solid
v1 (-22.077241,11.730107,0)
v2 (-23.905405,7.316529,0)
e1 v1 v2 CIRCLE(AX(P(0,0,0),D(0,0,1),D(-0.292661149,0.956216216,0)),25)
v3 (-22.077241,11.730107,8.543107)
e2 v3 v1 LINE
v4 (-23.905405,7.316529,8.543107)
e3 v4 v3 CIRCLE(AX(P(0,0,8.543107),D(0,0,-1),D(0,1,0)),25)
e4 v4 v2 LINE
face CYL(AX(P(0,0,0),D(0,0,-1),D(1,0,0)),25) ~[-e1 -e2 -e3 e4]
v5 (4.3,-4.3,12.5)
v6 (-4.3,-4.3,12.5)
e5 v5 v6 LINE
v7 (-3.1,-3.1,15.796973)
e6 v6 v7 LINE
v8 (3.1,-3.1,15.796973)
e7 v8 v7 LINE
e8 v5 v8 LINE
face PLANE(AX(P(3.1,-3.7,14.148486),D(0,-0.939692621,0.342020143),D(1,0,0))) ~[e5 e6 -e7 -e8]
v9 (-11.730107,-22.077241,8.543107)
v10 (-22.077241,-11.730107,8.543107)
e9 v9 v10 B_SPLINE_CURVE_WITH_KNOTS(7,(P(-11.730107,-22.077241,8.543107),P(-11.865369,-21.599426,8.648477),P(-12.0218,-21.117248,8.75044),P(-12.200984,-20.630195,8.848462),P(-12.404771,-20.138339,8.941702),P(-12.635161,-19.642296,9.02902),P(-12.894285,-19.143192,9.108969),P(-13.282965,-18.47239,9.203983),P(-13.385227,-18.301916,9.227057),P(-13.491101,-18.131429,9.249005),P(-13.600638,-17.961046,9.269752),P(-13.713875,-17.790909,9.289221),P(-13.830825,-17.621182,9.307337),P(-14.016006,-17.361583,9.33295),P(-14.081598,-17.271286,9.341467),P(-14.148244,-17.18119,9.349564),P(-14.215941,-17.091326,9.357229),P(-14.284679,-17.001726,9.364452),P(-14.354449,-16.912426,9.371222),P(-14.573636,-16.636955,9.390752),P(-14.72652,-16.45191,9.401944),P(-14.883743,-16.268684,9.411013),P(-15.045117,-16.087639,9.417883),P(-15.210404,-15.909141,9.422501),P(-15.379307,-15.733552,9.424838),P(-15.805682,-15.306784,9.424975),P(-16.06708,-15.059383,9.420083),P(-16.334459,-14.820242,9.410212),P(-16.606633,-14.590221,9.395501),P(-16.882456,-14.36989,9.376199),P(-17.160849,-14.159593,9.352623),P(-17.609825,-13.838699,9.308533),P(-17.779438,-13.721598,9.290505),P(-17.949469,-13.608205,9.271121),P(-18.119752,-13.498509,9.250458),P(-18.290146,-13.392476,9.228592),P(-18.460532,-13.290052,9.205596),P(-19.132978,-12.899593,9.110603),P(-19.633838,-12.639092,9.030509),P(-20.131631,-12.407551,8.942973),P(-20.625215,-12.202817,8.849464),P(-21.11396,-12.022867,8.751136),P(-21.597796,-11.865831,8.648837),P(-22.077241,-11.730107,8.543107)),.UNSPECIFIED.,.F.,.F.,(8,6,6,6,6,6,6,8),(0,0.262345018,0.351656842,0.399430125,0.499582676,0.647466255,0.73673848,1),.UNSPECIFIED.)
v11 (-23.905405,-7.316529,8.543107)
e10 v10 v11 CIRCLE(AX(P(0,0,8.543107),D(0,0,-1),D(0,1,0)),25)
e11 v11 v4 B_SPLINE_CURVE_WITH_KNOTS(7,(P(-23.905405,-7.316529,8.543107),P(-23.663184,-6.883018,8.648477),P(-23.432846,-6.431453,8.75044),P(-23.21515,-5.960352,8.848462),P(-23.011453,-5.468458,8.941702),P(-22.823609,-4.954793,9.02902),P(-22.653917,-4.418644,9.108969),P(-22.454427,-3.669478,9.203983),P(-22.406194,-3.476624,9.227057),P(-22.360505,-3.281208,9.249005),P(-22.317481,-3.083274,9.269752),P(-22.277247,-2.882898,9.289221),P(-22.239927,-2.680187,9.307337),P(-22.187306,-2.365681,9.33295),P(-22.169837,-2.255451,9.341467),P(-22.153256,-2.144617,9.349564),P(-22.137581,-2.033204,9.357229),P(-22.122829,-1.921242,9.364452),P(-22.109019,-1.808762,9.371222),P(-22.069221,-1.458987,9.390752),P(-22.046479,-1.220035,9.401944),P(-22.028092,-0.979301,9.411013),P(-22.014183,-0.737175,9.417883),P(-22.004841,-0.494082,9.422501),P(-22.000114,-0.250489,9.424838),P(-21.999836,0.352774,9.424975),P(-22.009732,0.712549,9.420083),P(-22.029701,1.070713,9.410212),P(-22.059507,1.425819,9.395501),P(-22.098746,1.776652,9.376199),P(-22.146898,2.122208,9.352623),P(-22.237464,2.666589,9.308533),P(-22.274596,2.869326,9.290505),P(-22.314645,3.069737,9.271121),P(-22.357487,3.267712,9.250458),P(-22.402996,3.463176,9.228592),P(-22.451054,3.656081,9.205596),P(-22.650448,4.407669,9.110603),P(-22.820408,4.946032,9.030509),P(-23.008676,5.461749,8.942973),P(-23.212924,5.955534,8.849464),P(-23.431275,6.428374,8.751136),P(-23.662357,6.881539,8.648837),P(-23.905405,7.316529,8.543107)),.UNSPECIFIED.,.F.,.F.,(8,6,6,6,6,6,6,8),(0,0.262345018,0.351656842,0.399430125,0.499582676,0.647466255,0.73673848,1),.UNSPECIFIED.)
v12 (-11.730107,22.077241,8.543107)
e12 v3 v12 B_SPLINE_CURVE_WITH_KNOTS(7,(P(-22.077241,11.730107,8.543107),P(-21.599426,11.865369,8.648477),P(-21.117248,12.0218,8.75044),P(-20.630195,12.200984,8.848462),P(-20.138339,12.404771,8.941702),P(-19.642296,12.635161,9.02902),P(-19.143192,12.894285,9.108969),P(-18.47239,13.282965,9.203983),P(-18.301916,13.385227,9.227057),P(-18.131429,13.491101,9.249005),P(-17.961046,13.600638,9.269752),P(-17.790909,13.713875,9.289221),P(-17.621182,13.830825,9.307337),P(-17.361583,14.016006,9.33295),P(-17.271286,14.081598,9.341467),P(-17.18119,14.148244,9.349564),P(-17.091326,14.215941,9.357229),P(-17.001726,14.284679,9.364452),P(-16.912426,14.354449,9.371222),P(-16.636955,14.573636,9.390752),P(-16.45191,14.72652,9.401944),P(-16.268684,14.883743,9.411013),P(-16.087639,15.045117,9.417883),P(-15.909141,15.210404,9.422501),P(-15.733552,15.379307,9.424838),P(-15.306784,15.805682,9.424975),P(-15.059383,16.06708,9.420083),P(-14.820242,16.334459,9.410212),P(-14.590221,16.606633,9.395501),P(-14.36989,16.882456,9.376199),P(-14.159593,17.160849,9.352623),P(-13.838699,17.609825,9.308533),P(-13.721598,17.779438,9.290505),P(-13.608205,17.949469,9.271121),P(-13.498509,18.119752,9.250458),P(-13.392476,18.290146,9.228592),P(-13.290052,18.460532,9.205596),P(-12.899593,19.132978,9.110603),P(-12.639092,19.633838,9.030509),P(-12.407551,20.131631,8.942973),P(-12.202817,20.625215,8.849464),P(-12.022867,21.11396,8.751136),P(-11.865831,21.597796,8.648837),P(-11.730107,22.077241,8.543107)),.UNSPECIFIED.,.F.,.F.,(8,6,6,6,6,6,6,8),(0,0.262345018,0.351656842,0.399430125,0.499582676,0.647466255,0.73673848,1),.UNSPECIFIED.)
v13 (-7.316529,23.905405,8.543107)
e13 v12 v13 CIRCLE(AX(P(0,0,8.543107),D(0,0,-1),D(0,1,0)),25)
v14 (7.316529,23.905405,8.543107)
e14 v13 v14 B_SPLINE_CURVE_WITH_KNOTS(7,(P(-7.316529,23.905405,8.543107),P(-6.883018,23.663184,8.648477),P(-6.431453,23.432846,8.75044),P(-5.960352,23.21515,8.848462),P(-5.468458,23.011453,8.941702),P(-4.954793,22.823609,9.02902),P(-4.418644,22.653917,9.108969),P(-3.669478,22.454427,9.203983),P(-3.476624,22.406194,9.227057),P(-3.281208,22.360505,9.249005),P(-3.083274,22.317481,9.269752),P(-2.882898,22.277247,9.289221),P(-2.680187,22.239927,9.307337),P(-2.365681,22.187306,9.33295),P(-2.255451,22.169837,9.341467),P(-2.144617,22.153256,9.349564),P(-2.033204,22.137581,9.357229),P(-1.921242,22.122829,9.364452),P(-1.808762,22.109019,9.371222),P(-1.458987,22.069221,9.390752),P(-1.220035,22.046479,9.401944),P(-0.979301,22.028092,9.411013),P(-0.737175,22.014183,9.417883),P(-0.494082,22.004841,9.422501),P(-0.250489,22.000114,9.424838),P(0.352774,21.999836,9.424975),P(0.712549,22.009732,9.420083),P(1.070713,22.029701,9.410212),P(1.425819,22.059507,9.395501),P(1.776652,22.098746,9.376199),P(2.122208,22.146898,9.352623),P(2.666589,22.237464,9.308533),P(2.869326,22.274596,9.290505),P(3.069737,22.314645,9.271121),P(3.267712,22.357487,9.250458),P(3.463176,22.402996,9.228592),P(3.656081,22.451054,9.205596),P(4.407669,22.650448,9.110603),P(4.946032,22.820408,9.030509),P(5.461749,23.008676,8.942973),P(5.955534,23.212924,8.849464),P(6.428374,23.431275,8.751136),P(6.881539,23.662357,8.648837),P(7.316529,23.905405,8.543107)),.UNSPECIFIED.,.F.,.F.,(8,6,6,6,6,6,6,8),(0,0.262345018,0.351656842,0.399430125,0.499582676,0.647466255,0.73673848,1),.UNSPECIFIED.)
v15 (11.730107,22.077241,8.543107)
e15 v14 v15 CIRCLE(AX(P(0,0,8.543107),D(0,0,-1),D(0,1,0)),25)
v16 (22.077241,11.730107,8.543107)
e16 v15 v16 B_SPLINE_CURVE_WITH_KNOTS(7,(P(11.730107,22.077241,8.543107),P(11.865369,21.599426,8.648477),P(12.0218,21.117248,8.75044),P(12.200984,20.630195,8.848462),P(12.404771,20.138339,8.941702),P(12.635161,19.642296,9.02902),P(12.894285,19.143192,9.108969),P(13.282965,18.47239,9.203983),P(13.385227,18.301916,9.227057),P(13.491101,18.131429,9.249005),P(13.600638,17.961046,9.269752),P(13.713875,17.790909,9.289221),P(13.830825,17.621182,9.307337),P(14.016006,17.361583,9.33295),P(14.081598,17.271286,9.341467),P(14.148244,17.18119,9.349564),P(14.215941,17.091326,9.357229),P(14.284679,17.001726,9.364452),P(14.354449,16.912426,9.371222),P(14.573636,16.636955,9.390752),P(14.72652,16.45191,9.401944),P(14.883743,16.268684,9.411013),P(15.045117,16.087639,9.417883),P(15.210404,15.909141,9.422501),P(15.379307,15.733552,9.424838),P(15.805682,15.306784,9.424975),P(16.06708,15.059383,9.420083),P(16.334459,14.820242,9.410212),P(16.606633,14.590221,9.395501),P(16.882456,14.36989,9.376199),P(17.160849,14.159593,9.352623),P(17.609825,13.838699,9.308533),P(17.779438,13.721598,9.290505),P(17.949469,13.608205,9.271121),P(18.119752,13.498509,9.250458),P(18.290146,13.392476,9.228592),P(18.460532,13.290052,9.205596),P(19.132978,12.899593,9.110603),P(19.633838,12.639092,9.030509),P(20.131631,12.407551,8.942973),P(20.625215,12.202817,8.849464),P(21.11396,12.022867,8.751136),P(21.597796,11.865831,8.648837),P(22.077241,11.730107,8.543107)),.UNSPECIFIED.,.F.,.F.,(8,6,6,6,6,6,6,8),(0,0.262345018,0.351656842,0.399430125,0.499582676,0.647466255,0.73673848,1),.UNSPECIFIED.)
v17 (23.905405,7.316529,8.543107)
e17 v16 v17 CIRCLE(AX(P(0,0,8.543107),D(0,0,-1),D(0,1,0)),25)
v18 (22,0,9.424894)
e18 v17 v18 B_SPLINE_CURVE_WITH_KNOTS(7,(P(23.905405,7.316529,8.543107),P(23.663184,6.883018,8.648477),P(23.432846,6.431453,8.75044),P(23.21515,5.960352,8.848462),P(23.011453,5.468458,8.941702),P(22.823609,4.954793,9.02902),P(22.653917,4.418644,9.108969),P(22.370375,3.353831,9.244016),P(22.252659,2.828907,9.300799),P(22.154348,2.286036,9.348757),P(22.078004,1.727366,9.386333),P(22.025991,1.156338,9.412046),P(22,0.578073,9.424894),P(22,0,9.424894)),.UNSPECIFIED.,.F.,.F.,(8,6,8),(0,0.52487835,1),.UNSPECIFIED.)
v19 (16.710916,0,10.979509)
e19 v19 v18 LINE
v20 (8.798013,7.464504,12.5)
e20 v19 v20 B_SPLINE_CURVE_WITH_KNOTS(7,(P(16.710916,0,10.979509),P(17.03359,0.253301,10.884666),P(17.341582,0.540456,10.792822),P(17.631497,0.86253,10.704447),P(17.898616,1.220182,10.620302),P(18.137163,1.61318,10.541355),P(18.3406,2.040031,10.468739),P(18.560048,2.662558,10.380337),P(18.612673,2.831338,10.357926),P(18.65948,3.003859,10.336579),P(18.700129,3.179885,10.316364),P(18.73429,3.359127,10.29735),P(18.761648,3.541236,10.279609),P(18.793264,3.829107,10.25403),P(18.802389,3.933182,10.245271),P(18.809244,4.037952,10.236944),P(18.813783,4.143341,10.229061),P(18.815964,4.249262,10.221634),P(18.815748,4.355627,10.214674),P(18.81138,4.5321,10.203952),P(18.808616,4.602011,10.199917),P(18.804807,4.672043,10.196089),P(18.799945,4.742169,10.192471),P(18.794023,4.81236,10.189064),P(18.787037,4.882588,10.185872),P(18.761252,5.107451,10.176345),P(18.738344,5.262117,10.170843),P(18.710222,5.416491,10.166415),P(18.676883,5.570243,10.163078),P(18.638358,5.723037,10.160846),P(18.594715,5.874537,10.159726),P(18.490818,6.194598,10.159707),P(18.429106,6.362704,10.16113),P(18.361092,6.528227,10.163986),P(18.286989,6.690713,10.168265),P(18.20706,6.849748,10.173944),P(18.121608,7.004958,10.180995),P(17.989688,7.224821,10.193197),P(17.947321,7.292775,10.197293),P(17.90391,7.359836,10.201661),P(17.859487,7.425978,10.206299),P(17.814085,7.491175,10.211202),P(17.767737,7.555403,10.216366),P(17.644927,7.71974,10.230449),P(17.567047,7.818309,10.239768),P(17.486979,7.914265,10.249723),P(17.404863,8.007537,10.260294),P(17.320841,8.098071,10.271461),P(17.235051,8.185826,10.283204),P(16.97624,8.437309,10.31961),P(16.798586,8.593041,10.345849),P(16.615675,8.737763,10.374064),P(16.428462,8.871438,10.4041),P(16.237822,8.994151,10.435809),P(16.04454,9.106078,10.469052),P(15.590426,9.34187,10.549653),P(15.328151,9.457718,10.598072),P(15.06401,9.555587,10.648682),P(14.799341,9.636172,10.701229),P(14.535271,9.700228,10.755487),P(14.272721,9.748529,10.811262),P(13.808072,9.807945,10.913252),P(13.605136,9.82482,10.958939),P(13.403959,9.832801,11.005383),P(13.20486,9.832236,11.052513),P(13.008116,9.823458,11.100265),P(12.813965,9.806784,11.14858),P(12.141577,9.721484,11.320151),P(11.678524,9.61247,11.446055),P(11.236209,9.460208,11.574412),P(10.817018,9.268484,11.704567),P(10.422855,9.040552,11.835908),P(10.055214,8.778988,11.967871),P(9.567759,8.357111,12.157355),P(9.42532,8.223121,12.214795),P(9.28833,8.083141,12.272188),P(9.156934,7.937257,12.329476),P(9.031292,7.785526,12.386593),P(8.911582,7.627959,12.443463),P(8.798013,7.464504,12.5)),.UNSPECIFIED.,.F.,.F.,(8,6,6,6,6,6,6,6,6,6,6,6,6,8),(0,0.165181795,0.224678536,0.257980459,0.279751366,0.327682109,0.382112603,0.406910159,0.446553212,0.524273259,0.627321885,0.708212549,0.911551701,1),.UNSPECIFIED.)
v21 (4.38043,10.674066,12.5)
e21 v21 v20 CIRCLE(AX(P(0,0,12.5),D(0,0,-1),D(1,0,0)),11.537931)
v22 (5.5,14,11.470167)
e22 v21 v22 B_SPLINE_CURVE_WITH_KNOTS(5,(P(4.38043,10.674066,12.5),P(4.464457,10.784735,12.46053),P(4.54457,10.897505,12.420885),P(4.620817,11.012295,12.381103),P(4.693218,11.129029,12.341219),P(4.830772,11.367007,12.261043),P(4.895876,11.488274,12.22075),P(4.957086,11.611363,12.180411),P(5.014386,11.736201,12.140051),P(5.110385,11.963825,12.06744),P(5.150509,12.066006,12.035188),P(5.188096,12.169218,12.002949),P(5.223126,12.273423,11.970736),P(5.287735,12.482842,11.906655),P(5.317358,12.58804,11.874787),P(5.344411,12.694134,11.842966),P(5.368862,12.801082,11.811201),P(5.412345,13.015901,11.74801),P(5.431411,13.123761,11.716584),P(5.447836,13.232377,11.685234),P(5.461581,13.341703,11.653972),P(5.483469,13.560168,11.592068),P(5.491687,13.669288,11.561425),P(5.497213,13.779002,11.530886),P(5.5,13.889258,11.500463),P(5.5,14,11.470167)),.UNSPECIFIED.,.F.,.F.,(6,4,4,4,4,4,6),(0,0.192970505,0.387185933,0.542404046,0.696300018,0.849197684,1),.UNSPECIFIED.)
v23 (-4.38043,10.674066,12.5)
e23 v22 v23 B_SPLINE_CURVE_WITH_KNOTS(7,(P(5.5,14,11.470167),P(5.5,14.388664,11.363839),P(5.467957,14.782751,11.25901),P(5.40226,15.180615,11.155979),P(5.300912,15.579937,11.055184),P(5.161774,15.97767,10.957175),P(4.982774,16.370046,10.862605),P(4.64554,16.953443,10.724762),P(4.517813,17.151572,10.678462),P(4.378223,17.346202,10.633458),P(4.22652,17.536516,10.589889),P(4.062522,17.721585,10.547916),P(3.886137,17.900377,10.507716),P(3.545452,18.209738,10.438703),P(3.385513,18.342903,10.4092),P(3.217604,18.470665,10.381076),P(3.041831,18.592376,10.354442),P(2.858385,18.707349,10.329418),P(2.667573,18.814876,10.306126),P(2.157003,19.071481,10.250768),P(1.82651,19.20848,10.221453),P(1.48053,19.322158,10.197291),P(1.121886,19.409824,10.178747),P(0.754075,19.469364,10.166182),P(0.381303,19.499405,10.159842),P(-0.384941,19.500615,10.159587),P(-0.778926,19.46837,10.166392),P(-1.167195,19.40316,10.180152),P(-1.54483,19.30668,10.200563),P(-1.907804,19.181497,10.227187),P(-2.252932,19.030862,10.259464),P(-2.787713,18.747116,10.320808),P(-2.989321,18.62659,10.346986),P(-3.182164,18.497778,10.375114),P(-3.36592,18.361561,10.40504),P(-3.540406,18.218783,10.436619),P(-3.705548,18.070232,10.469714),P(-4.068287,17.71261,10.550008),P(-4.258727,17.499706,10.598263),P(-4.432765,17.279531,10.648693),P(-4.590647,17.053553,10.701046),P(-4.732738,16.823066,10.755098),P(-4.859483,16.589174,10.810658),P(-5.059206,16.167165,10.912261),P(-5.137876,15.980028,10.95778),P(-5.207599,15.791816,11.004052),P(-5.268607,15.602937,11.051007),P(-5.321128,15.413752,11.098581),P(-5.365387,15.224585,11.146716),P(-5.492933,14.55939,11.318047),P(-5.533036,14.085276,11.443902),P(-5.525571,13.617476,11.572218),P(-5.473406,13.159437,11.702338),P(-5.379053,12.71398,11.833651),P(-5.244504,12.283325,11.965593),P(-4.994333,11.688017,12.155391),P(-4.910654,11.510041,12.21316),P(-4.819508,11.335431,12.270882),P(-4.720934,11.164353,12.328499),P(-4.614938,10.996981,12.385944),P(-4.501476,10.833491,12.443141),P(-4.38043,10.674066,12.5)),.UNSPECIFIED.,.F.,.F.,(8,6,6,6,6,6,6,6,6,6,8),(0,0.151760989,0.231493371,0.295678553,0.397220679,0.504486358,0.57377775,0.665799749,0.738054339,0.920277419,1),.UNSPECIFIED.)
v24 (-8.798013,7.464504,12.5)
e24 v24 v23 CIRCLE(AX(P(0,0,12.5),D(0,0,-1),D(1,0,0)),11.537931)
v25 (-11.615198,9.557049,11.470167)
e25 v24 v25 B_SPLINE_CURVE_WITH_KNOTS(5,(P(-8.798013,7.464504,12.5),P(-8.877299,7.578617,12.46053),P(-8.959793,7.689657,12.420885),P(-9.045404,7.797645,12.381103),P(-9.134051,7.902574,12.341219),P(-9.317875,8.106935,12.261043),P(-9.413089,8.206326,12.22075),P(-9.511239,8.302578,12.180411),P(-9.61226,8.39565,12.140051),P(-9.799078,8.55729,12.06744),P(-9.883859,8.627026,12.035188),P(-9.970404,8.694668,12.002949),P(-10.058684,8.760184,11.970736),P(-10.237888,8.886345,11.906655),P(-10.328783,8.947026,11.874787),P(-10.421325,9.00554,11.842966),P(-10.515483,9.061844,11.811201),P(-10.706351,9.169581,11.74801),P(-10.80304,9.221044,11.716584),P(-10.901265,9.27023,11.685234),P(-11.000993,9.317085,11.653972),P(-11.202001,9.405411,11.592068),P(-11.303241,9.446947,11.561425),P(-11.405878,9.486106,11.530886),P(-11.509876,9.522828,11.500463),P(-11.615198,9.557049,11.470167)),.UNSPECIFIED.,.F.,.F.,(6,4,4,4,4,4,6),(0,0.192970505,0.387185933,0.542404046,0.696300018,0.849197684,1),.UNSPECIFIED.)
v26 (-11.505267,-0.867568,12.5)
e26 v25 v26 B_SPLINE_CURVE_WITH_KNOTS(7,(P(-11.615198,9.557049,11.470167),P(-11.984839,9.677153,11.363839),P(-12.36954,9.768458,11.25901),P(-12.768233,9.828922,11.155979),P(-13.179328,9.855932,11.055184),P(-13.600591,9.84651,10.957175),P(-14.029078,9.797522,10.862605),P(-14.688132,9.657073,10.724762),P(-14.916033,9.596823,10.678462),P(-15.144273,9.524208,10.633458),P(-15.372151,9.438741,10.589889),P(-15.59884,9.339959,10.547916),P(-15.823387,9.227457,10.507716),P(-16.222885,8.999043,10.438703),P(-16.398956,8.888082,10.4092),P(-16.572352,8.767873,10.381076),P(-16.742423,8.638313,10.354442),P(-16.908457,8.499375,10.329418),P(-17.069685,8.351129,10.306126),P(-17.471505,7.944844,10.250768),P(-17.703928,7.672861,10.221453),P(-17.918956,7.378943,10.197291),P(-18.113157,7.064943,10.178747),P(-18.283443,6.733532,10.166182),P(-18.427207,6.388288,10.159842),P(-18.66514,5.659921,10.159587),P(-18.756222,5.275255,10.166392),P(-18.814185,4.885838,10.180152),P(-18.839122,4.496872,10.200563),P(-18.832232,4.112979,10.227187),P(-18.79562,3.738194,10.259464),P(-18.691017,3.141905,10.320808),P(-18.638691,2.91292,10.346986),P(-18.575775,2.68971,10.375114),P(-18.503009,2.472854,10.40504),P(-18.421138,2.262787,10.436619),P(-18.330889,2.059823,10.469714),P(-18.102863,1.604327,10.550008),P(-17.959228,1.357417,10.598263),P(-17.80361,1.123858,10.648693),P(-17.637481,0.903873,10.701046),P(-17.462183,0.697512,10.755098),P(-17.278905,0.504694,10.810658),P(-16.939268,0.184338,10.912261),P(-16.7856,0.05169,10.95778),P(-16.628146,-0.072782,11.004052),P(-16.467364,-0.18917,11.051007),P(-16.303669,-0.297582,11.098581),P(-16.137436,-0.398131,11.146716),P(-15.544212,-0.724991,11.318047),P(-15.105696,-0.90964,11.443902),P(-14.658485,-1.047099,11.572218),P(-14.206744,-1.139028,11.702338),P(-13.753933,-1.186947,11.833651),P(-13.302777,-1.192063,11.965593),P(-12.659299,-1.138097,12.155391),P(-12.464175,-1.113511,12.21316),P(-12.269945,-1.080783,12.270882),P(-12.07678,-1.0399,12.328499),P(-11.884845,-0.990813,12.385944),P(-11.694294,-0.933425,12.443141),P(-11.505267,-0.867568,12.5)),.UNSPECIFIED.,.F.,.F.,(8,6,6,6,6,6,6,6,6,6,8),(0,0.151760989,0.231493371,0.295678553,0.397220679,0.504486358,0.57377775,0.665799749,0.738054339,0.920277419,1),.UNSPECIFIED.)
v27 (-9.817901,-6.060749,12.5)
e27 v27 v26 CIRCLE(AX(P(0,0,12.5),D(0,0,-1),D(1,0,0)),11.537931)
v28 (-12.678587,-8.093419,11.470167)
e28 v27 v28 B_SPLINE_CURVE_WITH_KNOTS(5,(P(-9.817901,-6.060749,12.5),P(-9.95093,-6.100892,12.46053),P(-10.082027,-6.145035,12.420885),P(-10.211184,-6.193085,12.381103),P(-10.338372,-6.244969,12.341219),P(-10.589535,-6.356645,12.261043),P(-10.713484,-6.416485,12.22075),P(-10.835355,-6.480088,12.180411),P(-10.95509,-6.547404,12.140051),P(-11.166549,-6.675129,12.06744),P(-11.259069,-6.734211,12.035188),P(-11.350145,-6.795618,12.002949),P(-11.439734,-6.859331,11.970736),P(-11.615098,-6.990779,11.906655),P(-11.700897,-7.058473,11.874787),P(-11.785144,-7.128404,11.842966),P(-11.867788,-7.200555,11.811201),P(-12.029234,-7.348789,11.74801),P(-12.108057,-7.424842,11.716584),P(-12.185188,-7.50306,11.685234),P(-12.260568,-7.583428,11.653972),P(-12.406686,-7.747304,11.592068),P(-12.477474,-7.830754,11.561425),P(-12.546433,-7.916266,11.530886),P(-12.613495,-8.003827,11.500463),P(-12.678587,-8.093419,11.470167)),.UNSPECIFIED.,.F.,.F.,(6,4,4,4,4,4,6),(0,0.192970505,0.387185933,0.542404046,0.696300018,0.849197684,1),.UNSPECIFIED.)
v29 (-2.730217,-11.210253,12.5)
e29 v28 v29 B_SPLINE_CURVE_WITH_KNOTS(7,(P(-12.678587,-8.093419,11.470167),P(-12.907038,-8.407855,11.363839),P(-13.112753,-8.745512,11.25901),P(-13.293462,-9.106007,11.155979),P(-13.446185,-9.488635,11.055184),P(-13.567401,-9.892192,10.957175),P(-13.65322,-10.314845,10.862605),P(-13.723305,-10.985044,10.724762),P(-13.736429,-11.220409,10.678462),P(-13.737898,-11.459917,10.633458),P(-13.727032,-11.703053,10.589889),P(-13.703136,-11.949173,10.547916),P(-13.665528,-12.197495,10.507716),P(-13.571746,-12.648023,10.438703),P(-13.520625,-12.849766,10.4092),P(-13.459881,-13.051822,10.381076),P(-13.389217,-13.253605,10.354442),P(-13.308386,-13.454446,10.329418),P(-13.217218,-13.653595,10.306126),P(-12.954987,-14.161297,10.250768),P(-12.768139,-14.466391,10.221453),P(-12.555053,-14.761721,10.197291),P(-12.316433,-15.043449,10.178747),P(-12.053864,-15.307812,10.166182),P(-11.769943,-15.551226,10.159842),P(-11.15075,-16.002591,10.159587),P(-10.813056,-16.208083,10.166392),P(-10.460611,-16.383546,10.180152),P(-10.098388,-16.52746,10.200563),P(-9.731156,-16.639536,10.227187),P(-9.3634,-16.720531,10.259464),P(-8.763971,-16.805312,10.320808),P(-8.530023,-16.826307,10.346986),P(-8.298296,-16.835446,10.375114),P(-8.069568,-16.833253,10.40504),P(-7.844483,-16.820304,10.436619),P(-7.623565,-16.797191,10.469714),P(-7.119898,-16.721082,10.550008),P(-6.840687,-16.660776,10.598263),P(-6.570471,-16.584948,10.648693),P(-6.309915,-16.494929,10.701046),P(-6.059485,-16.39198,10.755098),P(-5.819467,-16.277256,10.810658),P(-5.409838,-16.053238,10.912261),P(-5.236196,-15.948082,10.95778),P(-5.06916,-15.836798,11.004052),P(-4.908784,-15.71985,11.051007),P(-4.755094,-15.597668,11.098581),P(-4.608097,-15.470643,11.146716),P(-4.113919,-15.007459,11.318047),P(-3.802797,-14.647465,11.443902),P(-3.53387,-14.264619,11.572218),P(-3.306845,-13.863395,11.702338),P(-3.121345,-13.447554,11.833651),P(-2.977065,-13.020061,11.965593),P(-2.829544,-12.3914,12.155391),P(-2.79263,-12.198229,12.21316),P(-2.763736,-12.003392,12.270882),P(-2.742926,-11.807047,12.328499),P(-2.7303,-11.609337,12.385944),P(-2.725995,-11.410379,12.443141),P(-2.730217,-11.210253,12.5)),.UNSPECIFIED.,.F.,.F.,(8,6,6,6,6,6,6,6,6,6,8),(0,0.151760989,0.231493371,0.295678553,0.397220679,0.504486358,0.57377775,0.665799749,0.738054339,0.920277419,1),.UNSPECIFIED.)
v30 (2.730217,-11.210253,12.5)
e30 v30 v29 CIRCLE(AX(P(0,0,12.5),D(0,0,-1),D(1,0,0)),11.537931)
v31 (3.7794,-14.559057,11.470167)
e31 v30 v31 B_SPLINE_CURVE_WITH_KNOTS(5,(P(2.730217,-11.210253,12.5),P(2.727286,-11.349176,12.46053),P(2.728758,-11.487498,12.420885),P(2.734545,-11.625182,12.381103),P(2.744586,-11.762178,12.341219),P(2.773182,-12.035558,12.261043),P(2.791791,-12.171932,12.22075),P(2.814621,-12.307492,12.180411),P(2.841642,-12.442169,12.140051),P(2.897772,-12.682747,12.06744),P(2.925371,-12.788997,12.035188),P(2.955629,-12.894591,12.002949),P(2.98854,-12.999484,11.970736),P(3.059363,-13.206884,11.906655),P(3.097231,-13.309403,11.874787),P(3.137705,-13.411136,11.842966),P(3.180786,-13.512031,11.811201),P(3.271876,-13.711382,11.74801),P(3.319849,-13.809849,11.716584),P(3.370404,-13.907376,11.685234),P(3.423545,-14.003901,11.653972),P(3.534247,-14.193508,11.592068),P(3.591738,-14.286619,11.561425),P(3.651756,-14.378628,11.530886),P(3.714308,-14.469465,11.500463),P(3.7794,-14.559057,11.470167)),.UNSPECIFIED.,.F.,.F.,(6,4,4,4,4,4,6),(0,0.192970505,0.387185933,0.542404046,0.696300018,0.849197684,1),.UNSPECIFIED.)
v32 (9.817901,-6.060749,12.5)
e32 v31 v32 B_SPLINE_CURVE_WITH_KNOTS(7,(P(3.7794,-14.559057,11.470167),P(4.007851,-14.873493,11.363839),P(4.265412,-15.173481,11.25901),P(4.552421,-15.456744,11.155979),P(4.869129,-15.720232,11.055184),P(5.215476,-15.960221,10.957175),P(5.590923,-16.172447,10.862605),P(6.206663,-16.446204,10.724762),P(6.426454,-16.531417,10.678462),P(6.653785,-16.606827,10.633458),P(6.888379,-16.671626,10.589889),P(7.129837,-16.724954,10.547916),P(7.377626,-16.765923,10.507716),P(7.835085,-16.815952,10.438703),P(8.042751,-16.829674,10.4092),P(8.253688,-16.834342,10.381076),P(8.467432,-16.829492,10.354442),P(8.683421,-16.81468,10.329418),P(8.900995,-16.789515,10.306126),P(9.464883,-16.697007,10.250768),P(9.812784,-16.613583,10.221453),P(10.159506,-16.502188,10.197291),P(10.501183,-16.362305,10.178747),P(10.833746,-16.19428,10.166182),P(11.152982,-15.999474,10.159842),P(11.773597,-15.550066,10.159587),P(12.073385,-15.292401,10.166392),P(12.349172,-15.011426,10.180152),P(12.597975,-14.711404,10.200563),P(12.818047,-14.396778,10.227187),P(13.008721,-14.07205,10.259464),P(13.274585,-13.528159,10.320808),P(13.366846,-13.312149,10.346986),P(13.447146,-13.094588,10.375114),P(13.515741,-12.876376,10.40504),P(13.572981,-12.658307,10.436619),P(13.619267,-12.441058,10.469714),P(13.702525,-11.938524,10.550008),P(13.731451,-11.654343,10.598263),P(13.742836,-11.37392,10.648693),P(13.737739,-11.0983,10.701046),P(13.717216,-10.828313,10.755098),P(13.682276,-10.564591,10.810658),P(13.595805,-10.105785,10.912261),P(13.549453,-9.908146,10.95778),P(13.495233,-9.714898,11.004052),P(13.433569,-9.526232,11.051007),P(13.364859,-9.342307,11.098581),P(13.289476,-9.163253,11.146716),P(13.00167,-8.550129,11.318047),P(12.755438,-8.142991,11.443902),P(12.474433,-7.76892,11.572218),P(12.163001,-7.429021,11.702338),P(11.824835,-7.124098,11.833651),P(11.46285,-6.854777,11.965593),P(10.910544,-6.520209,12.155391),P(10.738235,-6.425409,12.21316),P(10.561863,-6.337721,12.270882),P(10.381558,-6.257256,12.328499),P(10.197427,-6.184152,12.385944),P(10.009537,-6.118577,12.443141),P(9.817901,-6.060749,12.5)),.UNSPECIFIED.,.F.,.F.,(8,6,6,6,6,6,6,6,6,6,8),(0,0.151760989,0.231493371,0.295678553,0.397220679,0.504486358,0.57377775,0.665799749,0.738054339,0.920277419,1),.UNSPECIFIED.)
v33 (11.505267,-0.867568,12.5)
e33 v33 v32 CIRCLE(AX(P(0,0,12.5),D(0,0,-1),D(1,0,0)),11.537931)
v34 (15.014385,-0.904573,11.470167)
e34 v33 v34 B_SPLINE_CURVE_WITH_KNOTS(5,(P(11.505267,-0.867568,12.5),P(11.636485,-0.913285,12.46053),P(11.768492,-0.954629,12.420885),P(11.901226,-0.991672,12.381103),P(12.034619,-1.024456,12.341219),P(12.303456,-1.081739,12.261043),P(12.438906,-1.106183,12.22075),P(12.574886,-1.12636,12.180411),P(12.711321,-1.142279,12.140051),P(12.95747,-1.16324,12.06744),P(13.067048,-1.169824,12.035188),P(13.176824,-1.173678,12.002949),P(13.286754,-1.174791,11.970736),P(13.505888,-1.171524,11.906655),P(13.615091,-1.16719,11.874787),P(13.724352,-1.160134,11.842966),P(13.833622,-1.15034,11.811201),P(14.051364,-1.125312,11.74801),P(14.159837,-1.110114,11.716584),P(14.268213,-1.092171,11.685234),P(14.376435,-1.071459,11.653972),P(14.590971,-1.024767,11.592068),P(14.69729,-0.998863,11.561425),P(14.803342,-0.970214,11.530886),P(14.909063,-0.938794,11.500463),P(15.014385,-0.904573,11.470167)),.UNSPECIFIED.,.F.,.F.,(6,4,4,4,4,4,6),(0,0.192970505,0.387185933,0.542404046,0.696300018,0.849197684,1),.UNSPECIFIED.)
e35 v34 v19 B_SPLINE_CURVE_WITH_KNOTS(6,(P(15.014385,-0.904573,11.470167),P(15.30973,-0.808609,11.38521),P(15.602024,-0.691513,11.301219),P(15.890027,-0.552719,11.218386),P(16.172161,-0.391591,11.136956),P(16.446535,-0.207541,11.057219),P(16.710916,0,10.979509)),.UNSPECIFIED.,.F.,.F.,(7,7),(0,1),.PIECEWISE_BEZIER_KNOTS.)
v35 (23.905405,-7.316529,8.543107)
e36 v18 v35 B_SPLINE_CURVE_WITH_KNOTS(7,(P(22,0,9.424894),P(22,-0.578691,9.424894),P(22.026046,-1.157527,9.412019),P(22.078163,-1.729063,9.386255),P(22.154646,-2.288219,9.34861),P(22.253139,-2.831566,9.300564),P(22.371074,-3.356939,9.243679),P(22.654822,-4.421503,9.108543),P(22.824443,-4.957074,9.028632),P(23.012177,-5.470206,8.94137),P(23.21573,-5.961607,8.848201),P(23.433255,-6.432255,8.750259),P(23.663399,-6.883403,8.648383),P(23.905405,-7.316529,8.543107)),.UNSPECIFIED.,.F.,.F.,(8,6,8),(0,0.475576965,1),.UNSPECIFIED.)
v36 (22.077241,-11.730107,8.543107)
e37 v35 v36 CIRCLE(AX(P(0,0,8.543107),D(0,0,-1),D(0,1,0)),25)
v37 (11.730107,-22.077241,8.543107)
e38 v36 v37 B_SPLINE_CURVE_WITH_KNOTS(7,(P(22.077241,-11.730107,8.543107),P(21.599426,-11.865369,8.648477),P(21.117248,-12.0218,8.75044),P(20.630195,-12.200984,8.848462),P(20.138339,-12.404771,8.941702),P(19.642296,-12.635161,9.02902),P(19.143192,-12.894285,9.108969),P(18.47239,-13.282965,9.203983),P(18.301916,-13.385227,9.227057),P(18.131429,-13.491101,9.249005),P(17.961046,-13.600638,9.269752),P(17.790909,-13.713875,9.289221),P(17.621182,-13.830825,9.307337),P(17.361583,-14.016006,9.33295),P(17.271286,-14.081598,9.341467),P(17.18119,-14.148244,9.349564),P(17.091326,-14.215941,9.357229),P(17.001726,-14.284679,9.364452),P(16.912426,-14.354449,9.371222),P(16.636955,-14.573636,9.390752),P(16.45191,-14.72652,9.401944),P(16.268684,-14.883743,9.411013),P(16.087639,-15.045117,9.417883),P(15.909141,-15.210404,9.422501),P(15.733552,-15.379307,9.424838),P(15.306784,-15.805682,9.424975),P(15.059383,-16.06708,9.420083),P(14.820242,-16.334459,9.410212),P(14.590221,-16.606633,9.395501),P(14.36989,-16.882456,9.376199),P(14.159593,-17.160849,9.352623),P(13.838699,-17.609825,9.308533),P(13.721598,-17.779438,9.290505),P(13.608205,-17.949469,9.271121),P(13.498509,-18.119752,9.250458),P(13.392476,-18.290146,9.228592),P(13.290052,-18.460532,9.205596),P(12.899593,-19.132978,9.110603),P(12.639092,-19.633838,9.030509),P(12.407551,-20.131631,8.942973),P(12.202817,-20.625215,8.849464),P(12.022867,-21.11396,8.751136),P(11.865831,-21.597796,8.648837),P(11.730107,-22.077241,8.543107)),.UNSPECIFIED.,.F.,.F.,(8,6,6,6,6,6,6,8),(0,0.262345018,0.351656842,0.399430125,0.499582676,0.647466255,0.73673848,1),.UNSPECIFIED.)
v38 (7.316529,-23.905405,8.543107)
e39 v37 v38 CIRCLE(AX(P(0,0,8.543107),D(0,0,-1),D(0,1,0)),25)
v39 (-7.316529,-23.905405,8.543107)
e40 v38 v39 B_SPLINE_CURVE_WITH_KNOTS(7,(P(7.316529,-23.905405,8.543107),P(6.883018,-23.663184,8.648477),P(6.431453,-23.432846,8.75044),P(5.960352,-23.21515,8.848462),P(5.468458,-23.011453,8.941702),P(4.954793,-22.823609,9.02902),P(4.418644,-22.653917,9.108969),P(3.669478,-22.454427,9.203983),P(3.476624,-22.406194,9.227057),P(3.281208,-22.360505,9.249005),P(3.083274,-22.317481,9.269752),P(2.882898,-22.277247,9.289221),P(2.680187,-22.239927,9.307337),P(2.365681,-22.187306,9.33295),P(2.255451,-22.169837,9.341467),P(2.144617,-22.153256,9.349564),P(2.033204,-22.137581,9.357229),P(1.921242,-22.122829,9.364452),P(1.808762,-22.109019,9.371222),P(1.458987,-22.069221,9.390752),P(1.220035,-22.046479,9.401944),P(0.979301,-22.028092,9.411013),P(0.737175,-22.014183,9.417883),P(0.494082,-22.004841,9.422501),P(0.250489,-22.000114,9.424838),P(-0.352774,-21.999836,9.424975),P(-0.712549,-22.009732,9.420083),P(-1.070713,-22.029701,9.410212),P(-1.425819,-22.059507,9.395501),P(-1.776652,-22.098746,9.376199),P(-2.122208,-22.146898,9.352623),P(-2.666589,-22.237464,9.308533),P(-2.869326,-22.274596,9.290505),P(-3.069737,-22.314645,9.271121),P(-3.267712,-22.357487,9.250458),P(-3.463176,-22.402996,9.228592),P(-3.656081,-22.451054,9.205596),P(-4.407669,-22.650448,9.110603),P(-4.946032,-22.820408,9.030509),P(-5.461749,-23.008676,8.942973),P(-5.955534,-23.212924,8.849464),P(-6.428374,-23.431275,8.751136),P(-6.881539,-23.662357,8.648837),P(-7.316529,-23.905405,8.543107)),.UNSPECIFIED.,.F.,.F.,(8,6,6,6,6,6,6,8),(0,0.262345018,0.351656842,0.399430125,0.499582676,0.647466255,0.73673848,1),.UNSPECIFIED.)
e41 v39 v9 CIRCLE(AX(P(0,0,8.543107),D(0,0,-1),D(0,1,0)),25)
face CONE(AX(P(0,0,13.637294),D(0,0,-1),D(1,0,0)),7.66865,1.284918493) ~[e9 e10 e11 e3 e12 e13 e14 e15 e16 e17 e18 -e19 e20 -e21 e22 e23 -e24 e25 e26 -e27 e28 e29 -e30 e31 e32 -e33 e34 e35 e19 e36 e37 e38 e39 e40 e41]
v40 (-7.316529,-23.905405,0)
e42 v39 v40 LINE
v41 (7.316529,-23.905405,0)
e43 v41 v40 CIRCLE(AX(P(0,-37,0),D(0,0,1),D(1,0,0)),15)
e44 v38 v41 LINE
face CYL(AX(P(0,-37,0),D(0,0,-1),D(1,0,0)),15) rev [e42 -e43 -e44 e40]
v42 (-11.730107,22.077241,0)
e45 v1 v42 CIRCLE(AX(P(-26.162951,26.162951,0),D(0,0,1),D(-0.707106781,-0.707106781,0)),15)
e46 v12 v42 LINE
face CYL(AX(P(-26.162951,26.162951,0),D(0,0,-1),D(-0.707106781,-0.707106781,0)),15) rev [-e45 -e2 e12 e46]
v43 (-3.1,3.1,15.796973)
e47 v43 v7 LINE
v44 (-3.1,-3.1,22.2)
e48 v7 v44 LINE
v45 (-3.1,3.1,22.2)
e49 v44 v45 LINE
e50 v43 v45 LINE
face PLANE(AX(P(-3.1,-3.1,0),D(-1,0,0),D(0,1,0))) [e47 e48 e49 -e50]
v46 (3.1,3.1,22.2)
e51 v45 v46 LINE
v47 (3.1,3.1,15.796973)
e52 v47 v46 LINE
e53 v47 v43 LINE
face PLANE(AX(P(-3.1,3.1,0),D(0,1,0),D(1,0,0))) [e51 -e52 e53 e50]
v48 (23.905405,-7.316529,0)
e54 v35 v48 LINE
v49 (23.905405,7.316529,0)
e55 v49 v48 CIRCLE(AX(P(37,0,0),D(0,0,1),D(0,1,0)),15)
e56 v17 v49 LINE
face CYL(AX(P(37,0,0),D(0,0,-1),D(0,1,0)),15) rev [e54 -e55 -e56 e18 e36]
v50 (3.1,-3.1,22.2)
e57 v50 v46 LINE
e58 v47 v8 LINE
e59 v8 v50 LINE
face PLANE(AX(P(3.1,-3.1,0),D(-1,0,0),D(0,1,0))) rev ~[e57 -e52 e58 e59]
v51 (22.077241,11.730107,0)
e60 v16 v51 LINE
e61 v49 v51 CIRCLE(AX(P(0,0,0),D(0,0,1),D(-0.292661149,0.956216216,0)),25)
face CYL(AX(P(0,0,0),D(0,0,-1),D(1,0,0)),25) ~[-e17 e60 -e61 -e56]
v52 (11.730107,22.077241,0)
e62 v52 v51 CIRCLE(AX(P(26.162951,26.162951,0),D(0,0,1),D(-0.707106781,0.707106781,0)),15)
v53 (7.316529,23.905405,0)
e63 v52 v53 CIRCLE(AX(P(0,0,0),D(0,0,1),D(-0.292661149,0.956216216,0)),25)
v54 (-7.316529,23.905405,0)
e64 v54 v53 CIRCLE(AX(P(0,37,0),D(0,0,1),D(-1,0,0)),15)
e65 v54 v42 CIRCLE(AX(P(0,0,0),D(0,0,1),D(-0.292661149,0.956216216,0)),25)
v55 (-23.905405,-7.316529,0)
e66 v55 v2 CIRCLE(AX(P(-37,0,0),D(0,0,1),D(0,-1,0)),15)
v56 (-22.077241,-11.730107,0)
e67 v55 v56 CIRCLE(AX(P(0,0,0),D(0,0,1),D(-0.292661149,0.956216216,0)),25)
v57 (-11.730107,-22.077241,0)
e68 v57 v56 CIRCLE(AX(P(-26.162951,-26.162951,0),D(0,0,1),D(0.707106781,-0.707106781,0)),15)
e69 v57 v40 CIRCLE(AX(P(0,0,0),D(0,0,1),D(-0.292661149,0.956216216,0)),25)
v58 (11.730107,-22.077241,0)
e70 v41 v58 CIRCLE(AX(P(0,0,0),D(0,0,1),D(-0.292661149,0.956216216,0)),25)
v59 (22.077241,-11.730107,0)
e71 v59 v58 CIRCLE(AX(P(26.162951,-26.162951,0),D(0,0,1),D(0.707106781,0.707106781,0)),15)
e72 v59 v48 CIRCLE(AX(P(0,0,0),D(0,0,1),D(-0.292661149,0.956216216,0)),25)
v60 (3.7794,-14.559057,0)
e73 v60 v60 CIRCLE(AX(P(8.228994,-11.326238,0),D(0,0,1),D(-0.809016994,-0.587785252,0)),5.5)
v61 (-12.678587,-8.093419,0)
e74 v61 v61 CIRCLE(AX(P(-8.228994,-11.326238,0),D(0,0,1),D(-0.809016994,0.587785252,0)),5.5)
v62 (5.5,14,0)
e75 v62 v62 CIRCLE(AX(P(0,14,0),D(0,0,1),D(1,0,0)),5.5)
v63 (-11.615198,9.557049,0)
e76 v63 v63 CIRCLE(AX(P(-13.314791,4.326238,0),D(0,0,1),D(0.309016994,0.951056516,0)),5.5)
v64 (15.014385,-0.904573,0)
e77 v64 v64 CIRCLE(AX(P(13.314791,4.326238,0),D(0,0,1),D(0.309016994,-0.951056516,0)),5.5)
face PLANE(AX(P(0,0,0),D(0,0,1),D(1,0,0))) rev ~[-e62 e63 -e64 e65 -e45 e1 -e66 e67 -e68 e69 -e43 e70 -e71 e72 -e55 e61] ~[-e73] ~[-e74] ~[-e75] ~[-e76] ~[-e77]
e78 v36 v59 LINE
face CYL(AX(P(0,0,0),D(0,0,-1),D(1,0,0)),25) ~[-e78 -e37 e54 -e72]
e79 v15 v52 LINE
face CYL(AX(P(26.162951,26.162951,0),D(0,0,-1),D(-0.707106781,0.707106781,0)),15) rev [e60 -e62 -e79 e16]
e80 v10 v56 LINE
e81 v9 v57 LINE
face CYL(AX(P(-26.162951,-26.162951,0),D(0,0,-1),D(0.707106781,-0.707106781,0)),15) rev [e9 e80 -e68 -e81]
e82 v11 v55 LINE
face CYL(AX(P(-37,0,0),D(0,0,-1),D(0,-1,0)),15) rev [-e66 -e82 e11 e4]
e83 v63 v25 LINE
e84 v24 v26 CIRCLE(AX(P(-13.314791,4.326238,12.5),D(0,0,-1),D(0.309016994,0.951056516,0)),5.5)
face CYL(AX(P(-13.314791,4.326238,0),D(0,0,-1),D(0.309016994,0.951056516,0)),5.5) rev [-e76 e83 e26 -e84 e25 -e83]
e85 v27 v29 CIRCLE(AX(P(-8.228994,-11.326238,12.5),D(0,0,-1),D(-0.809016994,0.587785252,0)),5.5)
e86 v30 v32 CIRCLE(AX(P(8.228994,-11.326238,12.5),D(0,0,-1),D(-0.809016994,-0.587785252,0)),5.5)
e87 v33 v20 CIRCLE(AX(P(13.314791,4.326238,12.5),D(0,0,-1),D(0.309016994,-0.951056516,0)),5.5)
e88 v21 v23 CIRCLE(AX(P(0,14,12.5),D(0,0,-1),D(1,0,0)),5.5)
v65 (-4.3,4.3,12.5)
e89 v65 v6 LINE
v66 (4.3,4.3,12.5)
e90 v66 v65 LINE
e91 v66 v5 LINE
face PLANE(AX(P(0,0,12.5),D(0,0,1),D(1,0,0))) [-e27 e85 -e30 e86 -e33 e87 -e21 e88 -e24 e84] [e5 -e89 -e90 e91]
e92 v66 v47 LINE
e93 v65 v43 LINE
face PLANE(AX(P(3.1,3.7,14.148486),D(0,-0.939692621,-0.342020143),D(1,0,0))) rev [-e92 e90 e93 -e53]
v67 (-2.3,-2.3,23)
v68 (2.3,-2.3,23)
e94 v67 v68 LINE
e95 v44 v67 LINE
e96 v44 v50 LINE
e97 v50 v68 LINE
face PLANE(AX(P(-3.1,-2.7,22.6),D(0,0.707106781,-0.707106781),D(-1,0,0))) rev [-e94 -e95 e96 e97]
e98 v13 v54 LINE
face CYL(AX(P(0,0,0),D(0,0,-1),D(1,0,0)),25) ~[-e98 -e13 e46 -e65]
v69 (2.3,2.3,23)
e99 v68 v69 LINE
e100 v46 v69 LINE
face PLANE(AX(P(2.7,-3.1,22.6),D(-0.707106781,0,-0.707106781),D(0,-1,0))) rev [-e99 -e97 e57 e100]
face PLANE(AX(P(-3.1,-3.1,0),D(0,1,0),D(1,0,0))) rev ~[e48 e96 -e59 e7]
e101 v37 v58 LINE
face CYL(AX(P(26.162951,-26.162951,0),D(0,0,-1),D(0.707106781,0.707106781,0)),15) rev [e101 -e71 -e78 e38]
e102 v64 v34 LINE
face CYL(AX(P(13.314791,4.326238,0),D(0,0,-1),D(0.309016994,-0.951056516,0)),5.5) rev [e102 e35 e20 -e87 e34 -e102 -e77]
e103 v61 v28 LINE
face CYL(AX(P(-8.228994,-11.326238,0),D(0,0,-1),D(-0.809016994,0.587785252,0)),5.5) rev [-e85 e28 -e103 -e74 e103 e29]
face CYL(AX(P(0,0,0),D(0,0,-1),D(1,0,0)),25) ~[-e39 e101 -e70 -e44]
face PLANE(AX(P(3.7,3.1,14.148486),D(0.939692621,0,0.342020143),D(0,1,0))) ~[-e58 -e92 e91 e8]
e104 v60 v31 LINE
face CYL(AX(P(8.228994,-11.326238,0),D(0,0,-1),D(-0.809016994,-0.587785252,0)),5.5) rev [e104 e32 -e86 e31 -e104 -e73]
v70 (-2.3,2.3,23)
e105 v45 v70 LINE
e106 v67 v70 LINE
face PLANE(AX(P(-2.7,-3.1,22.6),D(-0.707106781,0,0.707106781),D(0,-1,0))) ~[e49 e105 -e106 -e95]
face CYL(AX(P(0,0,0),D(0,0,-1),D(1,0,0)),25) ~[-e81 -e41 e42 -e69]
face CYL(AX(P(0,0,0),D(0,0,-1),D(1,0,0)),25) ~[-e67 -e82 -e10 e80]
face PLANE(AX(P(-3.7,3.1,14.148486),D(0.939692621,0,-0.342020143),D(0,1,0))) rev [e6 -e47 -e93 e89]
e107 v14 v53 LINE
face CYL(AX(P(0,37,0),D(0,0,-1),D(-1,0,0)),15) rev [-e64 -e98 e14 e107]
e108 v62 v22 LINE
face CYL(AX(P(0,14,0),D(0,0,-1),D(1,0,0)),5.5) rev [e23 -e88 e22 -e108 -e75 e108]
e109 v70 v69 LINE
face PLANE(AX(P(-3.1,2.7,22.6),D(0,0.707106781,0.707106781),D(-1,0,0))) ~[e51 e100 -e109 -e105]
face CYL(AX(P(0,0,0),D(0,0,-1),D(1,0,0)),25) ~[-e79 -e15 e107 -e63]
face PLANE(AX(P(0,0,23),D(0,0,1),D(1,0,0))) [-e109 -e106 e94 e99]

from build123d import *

# Parameters (mm, degrees)
SKETCH_R              = 25
PAD_DEPTH             = 12.5
SKETCH001_W           = 6.2
SKETCH001_H           = 6.2
PAD001_DEPTH          = 23
CHAMFER_ANGLE         = 70
CHAMFER_SIZE          = 1.2
POCKET_DEPTH          = 171.715492
POLARPATTERN_COUNT    = 8
CHAMFER001_SIZE       = 0.8
SKETCH004_R           = 5.5
POCKET001_DEPTH       = 165.840033
POLARPATTERN001_COUNT = 5


with BuildPart() as part:
    # Sketch → Pad (new body)
    with BuildSketch(Plane.XY):
        Circle(SKETCH_R)
    extrude(amount=PAD_DEPTH)

    # Sketch001 → Pad001 (join)
    with BuildSketch(Plane.XY):
        Rectangle(SKETCH001_W, SKETCH001_H)
    extrude(amount=PAD001_DEPTH)

    # Chamfer
    chamfer_edges = [part.edges().sort_by_distance(p)[0] for p in [
        (0, -3.1, 12.5),
        (3.1, 0, 12.5),
        (0, 3.1, 12.5),
        (-3.1, 0, 12.5),
    ]]
    chamfer_side = part.faces().sort_by_distance((-24.292893, 0, 12.5))[0]
    chamfer(chamfer_edges, length=CHAMFER_SIZE, angle=CHAMFER_ANGLE, reference=chamfer_side)

    # Sketch002 → Pocket (cut, through all)
    with BuildSketch(Plane.XY):
        with BuildLine():
            ThreePointArc((-15, 37), (0, 22), (15, 37))
            Line((-15, 37), (15, 37))
        make_face()
    pocket = extrude(amount=POCKET_DEPTH, mode=Mode.SUBTRACT)

    # PolarPattern: Pocket ×8 about axis
    polarpattern_axis = Axis((0, 0, 0), (0, 0, 1))
    for i in range(1, POLARPATTERN_COUNT):
        add(pocket.rotate(polarpattern_axis, i * 360 / POLARPATTERN_COUNT), mode=Mode.SUBTRACT)

    # Sketch003 → Groove (revolve, cut)
    with BuildSketch(Plane.XZ):
        Polygon((7.66865, 25.207804), (7.66865, 13.637294), (28.54884, 7.5), (28.54884, 25.207804), align=None)
    revolve(axis=Axis((0, 0, 0), (0, 0, 1)), mode=Mode.SUBTRACT)

    # Chamfer001
    chamfer001_edges = [part.edges().sort_by_distance(p)[0] for p in [
        (0, 3.1, 23),
        (3.1, 0, 23),
        (0, -3.1, 23),
        (-3.1, 0, 23),
    ]]
    chamfer(chamfer001_edges, length=CHAMFER001_SIZE)

    # Sketch004 → Pocket001 (cut, through all)
    with BuildSketch(Plane.XY):
        with Locations((0, 14)):
            Circle(SKETCH004_R)
    pocket001 = extrude(amount=POCKET001_DEPTH, mode=Mode.SUBTRACT)

    # PolarPattern001: Pocket001 ×5 about axis
    polarpattern001_axis = Axis((0, 0, 0), (0, 0, 1))
    for i in range(1, POLARPATTERN001_COUNT):
        add(pocket001.rotate(polarpattern001_axis, i * 360 / POLARPATTERN001_COUNT), mode=Mode.SUBTRACT)


solid = part.part
